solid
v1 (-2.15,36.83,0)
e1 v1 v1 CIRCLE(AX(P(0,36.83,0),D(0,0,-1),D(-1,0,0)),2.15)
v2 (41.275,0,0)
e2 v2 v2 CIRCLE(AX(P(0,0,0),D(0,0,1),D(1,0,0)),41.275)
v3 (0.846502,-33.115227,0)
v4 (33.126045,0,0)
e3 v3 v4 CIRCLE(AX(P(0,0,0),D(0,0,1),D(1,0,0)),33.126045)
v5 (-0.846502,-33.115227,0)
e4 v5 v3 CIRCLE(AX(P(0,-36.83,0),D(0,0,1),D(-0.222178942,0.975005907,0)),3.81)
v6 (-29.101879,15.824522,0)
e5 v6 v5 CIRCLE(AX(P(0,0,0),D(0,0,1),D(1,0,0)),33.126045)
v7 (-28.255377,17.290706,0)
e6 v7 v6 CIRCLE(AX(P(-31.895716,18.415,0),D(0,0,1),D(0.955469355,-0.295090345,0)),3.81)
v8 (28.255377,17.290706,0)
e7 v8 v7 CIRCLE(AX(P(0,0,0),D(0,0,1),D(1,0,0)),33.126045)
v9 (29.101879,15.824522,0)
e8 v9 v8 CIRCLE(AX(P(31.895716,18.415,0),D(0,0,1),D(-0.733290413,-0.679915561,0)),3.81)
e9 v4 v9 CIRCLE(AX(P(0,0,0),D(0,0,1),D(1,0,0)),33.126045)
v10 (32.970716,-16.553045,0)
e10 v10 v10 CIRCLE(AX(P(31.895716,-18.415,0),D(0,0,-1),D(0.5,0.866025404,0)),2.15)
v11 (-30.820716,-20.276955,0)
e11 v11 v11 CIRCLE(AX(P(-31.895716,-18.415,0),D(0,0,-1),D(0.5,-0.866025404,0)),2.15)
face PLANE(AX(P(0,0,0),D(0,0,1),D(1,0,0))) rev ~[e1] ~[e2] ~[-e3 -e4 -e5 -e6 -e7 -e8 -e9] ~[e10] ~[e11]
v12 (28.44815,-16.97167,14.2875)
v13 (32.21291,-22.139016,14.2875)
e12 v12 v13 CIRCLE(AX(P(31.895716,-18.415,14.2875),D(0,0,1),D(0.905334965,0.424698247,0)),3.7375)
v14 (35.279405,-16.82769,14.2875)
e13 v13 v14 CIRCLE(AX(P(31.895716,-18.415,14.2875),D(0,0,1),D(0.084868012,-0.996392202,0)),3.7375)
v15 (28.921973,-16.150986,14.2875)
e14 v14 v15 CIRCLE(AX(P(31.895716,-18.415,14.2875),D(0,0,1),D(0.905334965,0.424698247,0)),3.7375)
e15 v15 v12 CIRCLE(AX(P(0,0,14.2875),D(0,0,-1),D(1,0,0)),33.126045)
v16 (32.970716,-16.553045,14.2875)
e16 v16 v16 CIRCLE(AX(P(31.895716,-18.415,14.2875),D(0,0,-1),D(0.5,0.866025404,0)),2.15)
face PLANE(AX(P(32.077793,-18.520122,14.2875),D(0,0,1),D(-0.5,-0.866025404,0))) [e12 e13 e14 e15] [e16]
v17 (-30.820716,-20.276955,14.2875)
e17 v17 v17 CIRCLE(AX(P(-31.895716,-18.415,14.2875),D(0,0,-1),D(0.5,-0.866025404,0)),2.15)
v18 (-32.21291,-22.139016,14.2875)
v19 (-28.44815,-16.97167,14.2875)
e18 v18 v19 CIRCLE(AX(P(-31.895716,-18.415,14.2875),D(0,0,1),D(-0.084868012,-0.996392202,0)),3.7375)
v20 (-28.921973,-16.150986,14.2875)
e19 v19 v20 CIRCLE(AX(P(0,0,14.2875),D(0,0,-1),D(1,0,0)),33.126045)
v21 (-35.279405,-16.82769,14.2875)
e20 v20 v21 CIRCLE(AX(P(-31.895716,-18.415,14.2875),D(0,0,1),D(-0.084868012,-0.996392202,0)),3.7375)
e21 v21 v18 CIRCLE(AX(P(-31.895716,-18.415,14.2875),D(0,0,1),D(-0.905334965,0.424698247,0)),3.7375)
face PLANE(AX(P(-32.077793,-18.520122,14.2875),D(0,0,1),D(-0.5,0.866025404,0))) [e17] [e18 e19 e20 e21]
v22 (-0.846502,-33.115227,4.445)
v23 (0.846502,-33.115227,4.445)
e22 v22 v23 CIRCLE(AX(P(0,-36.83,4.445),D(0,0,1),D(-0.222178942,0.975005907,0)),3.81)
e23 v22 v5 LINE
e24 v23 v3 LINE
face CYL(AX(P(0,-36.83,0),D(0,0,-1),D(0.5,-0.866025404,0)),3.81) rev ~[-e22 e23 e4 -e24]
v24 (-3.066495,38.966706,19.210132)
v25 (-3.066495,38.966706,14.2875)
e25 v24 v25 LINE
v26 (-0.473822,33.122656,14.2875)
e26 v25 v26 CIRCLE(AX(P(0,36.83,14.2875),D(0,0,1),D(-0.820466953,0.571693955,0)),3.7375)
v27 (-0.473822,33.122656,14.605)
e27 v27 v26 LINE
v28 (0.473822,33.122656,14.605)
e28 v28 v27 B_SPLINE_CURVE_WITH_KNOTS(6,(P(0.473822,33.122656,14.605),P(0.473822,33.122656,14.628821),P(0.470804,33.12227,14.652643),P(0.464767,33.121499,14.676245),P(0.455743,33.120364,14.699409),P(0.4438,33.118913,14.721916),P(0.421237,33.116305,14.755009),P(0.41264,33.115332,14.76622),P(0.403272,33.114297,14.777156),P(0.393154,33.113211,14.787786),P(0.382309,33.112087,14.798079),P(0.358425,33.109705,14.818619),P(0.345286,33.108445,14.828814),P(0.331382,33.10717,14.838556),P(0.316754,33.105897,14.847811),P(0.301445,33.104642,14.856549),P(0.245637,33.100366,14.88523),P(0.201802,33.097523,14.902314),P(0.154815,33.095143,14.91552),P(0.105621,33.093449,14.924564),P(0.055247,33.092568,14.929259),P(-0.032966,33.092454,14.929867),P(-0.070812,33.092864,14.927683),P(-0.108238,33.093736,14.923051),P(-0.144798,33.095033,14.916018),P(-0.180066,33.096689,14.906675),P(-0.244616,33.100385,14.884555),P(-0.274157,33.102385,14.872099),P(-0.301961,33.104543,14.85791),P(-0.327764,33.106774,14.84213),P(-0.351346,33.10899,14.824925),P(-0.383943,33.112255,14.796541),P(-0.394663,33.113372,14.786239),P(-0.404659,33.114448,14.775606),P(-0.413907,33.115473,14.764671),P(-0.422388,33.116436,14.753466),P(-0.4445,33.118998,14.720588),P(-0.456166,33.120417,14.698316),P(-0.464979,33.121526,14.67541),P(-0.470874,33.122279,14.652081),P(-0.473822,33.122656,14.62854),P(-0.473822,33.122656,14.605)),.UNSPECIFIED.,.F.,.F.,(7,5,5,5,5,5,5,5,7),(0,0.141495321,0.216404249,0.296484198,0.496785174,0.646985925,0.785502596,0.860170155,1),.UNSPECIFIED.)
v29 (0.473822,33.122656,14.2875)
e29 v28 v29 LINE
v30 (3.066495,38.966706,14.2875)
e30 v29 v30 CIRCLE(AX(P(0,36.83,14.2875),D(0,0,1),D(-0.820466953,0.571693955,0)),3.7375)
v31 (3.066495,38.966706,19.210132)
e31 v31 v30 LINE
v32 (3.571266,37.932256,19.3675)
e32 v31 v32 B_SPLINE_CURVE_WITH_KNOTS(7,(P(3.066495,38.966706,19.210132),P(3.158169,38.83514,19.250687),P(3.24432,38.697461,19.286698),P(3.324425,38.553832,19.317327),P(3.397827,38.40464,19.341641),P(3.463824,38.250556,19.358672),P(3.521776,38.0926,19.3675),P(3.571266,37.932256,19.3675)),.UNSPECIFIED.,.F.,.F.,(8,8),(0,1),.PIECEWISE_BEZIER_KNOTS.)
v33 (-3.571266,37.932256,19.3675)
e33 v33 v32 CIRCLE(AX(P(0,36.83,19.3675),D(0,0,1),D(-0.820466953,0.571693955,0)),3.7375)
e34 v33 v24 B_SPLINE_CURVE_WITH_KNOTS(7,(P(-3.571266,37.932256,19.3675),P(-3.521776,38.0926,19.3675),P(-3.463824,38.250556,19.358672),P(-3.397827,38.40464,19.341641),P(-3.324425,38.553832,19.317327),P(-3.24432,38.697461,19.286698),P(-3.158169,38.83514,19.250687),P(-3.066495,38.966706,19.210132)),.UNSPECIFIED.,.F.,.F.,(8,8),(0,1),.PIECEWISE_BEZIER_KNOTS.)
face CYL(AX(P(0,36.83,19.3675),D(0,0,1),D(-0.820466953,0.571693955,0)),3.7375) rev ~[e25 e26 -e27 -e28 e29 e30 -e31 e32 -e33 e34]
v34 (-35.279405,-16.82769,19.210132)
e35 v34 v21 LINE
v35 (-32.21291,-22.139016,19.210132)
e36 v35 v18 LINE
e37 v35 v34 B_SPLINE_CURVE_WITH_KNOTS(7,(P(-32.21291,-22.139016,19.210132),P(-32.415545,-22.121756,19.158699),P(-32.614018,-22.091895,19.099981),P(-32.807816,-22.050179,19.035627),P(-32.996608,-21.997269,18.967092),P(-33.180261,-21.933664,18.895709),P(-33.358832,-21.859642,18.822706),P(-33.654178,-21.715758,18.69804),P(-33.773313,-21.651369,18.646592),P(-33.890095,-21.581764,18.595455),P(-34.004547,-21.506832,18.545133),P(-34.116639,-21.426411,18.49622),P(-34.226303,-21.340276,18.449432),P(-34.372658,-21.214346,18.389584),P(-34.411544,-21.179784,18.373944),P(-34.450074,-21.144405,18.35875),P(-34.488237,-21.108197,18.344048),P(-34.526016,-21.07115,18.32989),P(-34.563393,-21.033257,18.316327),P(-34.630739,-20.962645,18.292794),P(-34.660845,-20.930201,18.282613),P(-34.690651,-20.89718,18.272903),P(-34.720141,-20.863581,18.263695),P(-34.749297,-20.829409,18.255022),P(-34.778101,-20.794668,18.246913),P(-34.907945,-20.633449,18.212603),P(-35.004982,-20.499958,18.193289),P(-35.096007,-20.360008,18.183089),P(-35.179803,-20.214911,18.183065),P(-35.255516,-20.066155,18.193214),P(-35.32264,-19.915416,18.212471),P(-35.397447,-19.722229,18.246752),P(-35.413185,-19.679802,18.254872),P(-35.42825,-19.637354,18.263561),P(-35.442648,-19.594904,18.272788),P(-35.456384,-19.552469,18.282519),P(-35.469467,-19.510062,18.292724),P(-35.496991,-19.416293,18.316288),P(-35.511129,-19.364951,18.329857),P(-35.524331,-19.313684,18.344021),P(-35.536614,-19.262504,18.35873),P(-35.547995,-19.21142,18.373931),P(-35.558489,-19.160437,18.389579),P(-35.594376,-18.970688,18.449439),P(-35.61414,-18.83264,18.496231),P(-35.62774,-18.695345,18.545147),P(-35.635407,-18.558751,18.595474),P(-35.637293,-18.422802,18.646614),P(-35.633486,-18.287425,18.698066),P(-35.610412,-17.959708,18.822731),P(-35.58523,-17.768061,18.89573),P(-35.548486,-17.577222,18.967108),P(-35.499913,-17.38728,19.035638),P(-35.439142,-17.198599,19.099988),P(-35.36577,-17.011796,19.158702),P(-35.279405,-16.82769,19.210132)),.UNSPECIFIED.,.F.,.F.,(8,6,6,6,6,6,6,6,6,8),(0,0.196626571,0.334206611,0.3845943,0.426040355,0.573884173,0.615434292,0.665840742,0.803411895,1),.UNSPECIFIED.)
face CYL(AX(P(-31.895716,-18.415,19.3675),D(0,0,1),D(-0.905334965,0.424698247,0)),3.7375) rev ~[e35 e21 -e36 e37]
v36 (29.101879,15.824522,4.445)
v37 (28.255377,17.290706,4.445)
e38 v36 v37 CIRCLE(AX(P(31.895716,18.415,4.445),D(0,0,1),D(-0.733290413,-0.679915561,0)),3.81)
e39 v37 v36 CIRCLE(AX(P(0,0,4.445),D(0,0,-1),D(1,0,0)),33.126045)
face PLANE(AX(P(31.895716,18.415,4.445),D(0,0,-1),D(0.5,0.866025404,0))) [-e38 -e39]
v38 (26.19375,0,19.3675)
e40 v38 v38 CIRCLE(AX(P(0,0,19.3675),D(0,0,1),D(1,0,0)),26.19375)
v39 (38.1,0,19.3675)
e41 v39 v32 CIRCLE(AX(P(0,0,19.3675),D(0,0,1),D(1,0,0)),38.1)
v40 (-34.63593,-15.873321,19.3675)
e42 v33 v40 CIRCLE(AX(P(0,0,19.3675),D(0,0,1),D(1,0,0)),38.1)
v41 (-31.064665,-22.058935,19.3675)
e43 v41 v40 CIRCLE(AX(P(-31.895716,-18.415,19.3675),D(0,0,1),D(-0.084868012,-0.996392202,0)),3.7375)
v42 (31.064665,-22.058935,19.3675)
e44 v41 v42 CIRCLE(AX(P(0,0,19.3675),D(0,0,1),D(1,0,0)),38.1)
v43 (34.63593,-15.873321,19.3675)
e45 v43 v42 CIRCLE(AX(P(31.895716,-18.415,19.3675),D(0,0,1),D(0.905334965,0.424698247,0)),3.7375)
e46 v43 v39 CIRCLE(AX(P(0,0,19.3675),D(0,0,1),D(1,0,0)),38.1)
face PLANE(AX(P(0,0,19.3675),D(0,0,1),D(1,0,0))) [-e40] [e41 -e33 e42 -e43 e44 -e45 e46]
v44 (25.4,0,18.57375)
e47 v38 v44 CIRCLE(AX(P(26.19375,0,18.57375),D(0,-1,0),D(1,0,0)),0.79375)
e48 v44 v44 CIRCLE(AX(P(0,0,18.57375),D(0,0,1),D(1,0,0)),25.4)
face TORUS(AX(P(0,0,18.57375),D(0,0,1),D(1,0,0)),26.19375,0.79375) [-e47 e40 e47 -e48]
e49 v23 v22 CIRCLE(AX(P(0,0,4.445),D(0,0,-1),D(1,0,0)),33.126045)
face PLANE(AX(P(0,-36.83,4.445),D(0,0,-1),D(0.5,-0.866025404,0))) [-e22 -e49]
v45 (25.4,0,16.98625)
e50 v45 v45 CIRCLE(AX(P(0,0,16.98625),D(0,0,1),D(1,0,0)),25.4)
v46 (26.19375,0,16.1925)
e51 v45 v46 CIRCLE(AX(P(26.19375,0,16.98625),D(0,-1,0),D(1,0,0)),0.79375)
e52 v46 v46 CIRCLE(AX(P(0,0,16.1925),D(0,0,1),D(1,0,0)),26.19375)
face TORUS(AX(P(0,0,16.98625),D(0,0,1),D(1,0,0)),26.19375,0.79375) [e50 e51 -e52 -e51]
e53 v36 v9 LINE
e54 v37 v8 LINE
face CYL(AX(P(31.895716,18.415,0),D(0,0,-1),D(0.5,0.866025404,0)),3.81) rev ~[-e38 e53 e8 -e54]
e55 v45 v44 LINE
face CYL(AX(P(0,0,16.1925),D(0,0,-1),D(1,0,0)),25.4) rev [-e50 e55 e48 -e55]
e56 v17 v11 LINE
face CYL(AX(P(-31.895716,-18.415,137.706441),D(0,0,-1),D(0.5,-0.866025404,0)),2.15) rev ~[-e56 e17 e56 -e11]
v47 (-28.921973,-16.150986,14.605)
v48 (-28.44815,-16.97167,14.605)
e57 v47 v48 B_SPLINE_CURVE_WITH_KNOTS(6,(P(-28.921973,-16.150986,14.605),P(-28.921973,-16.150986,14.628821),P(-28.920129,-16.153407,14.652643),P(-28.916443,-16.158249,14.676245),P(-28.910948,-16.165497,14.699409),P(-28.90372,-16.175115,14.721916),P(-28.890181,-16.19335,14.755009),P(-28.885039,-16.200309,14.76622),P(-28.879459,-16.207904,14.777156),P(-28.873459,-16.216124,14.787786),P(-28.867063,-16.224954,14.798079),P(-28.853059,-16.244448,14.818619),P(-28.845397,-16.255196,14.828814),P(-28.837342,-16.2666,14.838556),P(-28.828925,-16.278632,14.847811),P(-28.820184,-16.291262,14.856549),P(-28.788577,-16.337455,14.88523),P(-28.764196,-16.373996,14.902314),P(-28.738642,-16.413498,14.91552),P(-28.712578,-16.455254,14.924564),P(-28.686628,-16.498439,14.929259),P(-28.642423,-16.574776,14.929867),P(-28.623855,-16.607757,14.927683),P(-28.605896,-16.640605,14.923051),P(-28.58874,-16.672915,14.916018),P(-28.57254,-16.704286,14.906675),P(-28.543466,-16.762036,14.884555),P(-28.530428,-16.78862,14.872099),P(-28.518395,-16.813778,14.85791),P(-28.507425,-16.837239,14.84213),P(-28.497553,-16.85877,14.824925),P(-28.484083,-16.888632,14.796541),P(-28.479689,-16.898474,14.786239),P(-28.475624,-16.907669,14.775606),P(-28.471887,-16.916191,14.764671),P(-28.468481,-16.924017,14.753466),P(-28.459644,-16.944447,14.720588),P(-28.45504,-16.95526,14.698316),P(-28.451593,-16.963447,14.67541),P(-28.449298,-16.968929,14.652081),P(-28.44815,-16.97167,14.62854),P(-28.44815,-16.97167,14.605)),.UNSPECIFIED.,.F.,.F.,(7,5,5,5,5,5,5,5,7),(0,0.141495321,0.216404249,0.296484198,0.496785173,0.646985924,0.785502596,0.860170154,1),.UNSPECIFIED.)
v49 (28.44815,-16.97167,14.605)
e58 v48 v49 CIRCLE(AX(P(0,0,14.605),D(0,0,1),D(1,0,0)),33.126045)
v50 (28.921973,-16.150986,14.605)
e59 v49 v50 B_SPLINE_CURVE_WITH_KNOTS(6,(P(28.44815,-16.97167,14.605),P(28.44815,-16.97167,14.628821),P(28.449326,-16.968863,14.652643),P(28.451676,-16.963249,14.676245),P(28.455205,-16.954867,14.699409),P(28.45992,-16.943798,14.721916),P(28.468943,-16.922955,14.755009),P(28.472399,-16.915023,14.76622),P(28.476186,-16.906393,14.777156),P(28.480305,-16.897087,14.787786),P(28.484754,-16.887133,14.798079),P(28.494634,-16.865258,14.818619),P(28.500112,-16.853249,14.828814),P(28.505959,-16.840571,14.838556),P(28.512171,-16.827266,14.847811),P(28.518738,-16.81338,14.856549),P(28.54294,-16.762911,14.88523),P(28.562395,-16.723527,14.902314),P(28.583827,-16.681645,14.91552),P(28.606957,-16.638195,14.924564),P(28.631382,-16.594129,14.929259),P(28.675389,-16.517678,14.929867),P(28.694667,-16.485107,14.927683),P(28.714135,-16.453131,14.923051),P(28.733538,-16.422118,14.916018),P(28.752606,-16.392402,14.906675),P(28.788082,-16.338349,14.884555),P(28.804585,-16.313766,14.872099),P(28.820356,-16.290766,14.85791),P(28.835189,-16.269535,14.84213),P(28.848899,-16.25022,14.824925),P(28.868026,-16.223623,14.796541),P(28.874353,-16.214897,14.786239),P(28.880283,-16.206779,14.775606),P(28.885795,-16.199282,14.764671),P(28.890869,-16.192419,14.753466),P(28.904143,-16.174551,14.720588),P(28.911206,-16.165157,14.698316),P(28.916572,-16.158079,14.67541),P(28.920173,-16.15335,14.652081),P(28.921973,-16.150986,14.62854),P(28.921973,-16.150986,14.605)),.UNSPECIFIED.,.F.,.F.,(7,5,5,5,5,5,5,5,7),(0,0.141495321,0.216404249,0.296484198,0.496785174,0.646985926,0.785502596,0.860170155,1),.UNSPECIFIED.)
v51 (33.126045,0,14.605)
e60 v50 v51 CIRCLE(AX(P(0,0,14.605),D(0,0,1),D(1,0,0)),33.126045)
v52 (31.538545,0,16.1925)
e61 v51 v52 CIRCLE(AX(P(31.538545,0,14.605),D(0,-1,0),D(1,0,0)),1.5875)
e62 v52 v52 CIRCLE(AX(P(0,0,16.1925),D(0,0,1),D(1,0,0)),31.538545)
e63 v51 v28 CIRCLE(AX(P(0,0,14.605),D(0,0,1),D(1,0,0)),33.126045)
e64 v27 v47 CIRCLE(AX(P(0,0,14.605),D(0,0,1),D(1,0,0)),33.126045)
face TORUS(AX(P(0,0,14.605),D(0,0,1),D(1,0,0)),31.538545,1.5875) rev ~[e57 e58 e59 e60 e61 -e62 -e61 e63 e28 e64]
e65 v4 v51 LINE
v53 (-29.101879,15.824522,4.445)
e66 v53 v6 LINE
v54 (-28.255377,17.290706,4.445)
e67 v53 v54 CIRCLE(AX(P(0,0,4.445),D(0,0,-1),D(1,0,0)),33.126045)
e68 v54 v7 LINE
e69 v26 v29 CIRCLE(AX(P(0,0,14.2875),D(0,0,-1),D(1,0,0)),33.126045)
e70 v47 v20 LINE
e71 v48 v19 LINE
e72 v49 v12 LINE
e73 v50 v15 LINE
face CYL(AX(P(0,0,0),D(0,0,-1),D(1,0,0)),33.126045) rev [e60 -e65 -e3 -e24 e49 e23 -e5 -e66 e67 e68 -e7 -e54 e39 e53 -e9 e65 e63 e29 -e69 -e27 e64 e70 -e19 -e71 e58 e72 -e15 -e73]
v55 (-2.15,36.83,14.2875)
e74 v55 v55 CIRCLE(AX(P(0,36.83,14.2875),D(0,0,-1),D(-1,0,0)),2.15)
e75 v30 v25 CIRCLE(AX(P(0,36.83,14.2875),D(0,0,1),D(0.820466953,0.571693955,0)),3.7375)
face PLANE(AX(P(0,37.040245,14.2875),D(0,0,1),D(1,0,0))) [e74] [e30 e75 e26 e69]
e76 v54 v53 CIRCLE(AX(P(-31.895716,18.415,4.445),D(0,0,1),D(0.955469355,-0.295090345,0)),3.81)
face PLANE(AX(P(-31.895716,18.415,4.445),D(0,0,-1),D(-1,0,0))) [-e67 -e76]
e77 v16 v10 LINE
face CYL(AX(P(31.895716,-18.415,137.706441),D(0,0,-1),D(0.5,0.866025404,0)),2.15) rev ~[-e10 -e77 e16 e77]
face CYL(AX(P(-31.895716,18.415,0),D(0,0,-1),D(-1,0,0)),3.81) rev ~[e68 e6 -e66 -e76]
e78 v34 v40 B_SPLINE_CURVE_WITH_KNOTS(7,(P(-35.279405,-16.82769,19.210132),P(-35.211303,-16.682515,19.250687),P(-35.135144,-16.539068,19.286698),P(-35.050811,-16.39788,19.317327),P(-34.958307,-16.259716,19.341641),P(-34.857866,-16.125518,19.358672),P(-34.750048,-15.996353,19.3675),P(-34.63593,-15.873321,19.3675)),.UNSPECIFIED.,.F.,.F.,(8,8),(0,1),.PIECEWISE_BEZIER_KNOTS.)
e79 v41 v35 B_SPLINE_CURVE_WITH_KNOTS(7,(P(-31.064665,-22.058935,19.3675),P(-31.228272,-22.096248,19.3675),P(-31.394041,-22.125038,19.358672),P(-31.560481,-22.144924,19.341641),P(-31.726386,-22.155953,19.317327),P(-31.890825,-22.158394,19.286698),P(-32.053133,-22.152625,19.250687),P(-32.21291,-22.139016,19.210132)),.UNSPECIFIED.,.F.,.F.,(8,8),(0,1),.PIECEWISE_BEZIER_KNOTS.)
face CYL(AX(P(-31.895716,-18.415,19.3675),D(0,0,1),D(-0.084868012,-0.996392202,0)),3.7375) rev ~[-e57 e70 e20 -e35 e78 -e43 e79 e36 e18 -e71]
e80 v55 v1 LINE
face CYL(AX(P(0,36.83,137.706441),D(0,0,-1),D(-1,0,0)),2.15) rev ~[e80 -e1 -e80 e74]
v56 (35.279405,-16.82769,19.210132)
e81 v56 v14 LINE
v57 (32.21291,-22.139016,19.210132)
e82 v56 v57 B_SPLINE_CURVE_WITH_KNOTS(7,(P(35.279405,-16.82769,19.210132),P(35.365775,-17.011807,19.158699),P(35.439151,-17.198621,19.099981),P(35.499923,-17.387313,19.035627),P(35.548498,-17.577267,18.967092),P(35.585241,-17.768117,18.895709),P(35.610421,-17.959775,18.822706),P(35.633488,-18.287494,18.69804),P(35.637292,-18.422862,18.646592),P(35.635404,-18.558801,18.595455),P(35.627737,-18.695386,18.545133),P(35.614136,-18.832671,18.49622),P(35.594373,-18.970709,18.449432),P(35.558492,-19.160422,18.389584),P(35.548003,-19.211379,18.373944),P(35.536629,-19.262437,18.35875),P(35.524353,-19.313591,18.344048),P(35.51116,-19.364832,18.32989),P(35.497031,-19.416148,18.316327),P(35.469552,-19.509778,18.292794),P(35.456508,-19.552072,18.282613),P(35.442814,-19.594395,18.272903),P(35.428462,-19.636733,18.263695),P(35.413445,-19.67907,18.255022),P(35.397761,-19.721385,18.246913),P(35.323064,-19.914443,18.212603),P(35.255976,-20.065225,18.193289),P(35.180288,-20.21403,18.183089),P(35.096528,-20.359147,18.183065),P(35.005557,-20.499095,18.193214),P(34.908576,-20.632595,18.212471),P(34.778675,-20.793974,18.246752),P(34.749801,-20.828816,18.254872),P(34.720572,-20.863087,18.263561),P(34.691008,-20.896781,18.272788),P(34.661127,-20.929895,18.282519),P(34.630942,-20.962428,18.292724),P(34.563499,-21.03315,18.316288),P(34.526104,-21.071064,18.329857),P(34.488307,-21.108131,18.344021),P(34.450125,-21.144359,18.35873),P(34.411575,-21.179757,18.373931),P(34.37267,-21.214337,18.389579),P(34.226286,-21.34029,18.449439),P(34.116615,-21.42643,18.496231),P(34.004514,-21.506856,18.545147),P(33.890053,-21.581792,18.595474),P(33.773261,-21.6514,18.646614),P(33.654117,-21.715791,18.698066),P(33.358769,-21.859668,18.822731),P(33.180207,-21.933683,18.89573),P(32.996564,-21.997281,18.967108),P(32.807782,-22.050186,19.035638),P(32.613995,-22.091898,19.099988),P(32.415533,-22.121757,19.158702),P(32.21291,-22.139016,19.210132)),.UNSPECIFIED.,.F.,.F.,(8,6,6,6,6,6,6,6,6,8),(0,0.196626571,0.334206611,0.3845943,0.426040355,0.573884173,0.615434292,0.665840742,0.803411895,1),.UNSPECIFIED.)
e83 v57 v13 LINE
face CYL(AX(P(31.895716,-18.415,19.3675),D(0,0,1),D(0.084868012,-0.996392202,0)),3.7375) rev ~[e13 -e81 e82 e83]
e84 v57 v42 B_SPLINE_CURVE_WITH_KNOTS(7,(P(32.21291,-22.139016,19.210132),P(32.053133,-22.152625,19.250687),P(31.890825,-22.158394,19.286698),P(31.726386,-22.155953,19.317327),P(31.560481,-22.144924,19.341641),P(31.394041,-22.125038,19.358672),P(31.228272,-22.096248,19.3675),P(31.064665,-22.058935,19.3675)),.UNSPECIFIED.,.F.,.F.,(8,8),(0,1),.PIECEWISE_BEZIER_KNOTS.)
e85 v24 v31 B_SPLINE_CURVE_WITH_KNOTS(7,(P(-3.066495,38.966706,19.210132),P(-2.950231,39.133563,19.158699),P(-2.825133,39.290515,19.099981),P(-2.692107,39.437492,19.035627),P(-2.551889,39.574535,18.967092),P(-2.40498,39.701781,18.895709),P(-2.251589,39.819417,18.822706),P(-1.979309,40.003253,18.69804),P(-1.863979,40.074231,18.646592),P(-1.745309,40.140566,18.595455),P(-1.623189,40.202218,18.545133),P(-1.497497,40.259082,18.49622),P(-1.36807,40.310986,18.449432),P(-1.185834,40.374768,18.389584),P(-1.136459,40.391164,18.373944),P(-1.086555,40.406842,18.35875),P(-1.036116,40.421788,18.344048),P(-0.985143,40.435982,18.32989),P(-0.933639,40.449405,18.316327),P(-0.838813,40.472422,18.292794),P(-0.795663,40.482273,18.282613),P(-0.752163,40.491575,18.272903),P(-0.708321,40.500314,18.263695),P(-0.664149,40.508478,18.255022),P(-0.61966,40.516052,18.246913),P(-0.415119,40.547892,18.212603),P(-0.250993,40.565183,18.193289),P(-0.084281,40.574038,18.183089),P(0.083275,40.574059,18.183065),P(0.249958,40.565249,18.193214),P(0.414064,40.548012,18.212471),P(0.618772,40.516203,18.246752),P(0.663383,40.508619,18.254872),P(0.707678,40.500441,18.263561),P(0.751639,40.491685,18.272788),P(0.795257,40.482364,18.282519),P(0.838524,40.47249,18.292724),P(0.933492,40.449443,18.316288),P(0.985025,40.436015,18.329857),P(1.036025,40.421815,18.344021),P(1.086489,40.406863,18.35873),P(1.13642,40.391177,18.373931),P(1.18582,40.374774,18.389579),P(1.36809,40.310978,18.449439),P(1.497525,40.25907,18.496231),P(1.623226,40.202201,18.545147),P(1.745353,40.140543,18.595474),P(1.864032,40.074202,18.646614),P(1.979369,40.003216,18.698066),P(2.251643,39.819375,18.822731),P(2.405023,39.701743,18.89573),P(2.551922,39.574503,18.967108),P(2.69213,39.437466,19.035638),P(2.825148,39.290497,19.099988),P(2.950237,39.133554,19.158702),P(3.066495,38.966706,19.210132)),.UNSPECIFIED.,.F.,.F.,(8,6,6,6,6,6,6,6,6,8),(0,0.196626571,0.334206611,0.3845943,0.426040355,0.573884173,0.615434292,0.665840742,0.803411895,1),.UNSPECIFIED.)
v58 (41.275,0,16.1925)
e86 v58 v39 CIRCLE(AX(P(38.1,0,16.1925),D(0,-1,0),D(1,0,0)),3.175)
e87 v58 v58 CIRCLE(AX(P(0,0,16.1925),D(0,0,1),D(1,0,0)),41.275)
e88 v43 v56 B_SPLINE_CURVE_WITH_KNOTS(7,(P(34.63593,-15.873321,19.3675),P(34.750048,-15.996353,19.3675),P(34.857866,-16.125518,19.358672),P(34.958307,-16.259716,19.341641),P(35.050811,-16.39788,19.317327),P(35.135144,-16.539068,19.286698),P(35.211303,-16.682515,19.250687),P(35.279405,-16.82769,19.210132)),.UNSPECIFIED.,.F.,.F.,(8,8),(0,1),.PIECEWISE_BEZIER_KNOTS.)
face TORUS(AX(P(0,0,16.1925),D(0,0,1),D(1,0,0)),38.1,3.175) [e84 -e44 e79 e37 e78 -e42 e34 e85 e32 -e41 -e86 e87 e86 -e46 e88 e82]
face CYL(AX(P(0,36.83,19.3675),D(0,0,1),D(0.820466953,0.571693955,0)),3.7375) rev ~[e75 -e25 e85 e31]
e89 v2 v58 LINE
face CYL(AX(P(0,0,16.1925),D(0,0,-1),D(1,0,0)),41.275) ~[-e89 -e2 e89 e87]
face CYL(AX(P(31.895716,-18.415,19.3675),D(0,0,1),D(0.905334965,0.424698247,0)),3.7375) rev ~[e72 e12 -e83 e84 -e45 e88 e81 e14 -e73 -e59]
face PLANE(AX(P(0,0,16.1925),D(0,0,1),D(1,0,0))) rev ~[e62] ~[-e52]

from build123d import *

# Parameters (mm, degrees)
SKETCH1_R            = 41.275
SKETCH1_R_2          = 33.126045
BOSS_EXTRUDE1_DEPTH  = 16.1925
SKETCH2_R            = 41.275
SKETCH2_R_2          = 25.4
BOSS_EXTRUDE2_DEPTH  = 3.175
FILLET1_R            = 1.5875
FILLET2_R            = 3.175
M4_CLEARANCE_HOLE1_D = 4.3
CUT_EXTRUDE1_DEPTH   = 5.08
CIRPATTERN1_COUNT    = 3
FILLET3_R            = 0.79375
SKETCH8_R            = 3.81
CUT_EXTRUDE2_DEPTH   = 4.445
CIRPATTERN2_COUNT    = 3


with BuildPart() as part:
    # Sketch1 → Boss-Extrude1 (new body)
    with BuildSketch(Plane.XY):
        Circle(SKETCH1_R)
        Circle(SKETCH1_R_2, mode=Mode.SUBTRACT)
    extrude(amount=BOSS_EXTRUDE1_DEPTH)

    # Sketch2 → Boss-Extrude2 (add)
    with BuildSketch(Plane.XY.offset(16.1925)):
        Circle(SKETCH2_R)
        Circle(SKETCH2_R_2, mode=Mode.SUBTRACT)
    extrude(amount=BOSS_EXTRUDE2_DEPTH)

    # Fillet1
    fillet1_edges = [part.edges().sort_by_distance(p)[0] for p in [
        (-33.126045, 0, 16.1925),
    ]]
    fillet(fillet1_edges, radius=FILLET1_R)

    # Fillet2
    fillet2_edges = [part.edges().sort_by_distance(p)[0] for p in [
        (-41.275, 0, 19.3675),
    ]]
    fillet(fillet2_edges, radius=FILLET2_R)

    # M4 Clearance Hole1 (through all)
    with Locations(Plane.XY.offset(19.3675)):
        with Locations((0, 36.83)):
            m4_clearance_hole1 = Hole(M4_CLEARANCE_HOLE1_D / 2)

    # Sketch7 → Cut-Extrude1 (cut)
    with BuildSketch(Plane.XY.offset(19.3675)):
        with BuildLine():
            ThreePointArc((3.066495238, 38.966706158), (0, 40.5675), (-3.066495238, 38.966706158))
            ThreePointArc((-3.066495238, 38.966706158), (0, 33.0925), (3.066495238, 38.966706158))
        make_face()
    cut_extrude1 = extrude(amount=-CUT_EXTRUDE1_DEPTH, mode=Mode.SUBTRACT)

    # CirPattern1: M4 Clearance Hole1, Cut-Extrude1 ×3 about axis
    cirpattern1_axis = Axis((0, 0, 0), (0, 0, 1))
    add([m4_clearance_hole1.rotate(cirpattern1_axis, i * 360 / CIRPATTERN1_COUNT) for i in range(1, CIRPATTERN1_COUNT)], mode=Mode.SUBTRACT)
    add([cut_extrude1.rotate(cirpattern1_axis, i * 360 / CIRPATTERN1_COUNT) for i in range(1, CIRPATTERN1_COUNT)], mode=Mode.SUBTRACT)

    # Fillet3
    fillet3_edges = [part.edges().sort_by_distance(p)[0] for p in [
        (-25.4, 0, 19.3675),
        (-25.4, 0, 16.1925),
    ]]
    fillet(fillet3_edges, radius=FILLET3_R)

    # Sketch8 → Cut-Extrude2 (cut)
    with BuildSketch(Plane(origin=(0, 0, 0), x_dir=(-1, 0, 0), z_dir=(0, 0, -1))):
        with Locations((31.895715621, 18.415)):
            Circle(SKETCH8_R)
    cut_extrude2 = extrude(amount=-CUT_EXTRUDE2_DEPTH, mode=Mode.SUBTRACT)

    # CirPattern2: Cut-Extrude2 ×3 about axis
    cirpattern2_axis = Axis((0, 0, 0), (0, 0, 1))
    for i in range(1, CIRPATTERN2_COUNT):
        add(cut_extrude2.rotate(cirpattern2_axis, i * 360 / CIRPATTERN2_COUNT), mode=Mode.SUBTRACT)


solid = part.part
